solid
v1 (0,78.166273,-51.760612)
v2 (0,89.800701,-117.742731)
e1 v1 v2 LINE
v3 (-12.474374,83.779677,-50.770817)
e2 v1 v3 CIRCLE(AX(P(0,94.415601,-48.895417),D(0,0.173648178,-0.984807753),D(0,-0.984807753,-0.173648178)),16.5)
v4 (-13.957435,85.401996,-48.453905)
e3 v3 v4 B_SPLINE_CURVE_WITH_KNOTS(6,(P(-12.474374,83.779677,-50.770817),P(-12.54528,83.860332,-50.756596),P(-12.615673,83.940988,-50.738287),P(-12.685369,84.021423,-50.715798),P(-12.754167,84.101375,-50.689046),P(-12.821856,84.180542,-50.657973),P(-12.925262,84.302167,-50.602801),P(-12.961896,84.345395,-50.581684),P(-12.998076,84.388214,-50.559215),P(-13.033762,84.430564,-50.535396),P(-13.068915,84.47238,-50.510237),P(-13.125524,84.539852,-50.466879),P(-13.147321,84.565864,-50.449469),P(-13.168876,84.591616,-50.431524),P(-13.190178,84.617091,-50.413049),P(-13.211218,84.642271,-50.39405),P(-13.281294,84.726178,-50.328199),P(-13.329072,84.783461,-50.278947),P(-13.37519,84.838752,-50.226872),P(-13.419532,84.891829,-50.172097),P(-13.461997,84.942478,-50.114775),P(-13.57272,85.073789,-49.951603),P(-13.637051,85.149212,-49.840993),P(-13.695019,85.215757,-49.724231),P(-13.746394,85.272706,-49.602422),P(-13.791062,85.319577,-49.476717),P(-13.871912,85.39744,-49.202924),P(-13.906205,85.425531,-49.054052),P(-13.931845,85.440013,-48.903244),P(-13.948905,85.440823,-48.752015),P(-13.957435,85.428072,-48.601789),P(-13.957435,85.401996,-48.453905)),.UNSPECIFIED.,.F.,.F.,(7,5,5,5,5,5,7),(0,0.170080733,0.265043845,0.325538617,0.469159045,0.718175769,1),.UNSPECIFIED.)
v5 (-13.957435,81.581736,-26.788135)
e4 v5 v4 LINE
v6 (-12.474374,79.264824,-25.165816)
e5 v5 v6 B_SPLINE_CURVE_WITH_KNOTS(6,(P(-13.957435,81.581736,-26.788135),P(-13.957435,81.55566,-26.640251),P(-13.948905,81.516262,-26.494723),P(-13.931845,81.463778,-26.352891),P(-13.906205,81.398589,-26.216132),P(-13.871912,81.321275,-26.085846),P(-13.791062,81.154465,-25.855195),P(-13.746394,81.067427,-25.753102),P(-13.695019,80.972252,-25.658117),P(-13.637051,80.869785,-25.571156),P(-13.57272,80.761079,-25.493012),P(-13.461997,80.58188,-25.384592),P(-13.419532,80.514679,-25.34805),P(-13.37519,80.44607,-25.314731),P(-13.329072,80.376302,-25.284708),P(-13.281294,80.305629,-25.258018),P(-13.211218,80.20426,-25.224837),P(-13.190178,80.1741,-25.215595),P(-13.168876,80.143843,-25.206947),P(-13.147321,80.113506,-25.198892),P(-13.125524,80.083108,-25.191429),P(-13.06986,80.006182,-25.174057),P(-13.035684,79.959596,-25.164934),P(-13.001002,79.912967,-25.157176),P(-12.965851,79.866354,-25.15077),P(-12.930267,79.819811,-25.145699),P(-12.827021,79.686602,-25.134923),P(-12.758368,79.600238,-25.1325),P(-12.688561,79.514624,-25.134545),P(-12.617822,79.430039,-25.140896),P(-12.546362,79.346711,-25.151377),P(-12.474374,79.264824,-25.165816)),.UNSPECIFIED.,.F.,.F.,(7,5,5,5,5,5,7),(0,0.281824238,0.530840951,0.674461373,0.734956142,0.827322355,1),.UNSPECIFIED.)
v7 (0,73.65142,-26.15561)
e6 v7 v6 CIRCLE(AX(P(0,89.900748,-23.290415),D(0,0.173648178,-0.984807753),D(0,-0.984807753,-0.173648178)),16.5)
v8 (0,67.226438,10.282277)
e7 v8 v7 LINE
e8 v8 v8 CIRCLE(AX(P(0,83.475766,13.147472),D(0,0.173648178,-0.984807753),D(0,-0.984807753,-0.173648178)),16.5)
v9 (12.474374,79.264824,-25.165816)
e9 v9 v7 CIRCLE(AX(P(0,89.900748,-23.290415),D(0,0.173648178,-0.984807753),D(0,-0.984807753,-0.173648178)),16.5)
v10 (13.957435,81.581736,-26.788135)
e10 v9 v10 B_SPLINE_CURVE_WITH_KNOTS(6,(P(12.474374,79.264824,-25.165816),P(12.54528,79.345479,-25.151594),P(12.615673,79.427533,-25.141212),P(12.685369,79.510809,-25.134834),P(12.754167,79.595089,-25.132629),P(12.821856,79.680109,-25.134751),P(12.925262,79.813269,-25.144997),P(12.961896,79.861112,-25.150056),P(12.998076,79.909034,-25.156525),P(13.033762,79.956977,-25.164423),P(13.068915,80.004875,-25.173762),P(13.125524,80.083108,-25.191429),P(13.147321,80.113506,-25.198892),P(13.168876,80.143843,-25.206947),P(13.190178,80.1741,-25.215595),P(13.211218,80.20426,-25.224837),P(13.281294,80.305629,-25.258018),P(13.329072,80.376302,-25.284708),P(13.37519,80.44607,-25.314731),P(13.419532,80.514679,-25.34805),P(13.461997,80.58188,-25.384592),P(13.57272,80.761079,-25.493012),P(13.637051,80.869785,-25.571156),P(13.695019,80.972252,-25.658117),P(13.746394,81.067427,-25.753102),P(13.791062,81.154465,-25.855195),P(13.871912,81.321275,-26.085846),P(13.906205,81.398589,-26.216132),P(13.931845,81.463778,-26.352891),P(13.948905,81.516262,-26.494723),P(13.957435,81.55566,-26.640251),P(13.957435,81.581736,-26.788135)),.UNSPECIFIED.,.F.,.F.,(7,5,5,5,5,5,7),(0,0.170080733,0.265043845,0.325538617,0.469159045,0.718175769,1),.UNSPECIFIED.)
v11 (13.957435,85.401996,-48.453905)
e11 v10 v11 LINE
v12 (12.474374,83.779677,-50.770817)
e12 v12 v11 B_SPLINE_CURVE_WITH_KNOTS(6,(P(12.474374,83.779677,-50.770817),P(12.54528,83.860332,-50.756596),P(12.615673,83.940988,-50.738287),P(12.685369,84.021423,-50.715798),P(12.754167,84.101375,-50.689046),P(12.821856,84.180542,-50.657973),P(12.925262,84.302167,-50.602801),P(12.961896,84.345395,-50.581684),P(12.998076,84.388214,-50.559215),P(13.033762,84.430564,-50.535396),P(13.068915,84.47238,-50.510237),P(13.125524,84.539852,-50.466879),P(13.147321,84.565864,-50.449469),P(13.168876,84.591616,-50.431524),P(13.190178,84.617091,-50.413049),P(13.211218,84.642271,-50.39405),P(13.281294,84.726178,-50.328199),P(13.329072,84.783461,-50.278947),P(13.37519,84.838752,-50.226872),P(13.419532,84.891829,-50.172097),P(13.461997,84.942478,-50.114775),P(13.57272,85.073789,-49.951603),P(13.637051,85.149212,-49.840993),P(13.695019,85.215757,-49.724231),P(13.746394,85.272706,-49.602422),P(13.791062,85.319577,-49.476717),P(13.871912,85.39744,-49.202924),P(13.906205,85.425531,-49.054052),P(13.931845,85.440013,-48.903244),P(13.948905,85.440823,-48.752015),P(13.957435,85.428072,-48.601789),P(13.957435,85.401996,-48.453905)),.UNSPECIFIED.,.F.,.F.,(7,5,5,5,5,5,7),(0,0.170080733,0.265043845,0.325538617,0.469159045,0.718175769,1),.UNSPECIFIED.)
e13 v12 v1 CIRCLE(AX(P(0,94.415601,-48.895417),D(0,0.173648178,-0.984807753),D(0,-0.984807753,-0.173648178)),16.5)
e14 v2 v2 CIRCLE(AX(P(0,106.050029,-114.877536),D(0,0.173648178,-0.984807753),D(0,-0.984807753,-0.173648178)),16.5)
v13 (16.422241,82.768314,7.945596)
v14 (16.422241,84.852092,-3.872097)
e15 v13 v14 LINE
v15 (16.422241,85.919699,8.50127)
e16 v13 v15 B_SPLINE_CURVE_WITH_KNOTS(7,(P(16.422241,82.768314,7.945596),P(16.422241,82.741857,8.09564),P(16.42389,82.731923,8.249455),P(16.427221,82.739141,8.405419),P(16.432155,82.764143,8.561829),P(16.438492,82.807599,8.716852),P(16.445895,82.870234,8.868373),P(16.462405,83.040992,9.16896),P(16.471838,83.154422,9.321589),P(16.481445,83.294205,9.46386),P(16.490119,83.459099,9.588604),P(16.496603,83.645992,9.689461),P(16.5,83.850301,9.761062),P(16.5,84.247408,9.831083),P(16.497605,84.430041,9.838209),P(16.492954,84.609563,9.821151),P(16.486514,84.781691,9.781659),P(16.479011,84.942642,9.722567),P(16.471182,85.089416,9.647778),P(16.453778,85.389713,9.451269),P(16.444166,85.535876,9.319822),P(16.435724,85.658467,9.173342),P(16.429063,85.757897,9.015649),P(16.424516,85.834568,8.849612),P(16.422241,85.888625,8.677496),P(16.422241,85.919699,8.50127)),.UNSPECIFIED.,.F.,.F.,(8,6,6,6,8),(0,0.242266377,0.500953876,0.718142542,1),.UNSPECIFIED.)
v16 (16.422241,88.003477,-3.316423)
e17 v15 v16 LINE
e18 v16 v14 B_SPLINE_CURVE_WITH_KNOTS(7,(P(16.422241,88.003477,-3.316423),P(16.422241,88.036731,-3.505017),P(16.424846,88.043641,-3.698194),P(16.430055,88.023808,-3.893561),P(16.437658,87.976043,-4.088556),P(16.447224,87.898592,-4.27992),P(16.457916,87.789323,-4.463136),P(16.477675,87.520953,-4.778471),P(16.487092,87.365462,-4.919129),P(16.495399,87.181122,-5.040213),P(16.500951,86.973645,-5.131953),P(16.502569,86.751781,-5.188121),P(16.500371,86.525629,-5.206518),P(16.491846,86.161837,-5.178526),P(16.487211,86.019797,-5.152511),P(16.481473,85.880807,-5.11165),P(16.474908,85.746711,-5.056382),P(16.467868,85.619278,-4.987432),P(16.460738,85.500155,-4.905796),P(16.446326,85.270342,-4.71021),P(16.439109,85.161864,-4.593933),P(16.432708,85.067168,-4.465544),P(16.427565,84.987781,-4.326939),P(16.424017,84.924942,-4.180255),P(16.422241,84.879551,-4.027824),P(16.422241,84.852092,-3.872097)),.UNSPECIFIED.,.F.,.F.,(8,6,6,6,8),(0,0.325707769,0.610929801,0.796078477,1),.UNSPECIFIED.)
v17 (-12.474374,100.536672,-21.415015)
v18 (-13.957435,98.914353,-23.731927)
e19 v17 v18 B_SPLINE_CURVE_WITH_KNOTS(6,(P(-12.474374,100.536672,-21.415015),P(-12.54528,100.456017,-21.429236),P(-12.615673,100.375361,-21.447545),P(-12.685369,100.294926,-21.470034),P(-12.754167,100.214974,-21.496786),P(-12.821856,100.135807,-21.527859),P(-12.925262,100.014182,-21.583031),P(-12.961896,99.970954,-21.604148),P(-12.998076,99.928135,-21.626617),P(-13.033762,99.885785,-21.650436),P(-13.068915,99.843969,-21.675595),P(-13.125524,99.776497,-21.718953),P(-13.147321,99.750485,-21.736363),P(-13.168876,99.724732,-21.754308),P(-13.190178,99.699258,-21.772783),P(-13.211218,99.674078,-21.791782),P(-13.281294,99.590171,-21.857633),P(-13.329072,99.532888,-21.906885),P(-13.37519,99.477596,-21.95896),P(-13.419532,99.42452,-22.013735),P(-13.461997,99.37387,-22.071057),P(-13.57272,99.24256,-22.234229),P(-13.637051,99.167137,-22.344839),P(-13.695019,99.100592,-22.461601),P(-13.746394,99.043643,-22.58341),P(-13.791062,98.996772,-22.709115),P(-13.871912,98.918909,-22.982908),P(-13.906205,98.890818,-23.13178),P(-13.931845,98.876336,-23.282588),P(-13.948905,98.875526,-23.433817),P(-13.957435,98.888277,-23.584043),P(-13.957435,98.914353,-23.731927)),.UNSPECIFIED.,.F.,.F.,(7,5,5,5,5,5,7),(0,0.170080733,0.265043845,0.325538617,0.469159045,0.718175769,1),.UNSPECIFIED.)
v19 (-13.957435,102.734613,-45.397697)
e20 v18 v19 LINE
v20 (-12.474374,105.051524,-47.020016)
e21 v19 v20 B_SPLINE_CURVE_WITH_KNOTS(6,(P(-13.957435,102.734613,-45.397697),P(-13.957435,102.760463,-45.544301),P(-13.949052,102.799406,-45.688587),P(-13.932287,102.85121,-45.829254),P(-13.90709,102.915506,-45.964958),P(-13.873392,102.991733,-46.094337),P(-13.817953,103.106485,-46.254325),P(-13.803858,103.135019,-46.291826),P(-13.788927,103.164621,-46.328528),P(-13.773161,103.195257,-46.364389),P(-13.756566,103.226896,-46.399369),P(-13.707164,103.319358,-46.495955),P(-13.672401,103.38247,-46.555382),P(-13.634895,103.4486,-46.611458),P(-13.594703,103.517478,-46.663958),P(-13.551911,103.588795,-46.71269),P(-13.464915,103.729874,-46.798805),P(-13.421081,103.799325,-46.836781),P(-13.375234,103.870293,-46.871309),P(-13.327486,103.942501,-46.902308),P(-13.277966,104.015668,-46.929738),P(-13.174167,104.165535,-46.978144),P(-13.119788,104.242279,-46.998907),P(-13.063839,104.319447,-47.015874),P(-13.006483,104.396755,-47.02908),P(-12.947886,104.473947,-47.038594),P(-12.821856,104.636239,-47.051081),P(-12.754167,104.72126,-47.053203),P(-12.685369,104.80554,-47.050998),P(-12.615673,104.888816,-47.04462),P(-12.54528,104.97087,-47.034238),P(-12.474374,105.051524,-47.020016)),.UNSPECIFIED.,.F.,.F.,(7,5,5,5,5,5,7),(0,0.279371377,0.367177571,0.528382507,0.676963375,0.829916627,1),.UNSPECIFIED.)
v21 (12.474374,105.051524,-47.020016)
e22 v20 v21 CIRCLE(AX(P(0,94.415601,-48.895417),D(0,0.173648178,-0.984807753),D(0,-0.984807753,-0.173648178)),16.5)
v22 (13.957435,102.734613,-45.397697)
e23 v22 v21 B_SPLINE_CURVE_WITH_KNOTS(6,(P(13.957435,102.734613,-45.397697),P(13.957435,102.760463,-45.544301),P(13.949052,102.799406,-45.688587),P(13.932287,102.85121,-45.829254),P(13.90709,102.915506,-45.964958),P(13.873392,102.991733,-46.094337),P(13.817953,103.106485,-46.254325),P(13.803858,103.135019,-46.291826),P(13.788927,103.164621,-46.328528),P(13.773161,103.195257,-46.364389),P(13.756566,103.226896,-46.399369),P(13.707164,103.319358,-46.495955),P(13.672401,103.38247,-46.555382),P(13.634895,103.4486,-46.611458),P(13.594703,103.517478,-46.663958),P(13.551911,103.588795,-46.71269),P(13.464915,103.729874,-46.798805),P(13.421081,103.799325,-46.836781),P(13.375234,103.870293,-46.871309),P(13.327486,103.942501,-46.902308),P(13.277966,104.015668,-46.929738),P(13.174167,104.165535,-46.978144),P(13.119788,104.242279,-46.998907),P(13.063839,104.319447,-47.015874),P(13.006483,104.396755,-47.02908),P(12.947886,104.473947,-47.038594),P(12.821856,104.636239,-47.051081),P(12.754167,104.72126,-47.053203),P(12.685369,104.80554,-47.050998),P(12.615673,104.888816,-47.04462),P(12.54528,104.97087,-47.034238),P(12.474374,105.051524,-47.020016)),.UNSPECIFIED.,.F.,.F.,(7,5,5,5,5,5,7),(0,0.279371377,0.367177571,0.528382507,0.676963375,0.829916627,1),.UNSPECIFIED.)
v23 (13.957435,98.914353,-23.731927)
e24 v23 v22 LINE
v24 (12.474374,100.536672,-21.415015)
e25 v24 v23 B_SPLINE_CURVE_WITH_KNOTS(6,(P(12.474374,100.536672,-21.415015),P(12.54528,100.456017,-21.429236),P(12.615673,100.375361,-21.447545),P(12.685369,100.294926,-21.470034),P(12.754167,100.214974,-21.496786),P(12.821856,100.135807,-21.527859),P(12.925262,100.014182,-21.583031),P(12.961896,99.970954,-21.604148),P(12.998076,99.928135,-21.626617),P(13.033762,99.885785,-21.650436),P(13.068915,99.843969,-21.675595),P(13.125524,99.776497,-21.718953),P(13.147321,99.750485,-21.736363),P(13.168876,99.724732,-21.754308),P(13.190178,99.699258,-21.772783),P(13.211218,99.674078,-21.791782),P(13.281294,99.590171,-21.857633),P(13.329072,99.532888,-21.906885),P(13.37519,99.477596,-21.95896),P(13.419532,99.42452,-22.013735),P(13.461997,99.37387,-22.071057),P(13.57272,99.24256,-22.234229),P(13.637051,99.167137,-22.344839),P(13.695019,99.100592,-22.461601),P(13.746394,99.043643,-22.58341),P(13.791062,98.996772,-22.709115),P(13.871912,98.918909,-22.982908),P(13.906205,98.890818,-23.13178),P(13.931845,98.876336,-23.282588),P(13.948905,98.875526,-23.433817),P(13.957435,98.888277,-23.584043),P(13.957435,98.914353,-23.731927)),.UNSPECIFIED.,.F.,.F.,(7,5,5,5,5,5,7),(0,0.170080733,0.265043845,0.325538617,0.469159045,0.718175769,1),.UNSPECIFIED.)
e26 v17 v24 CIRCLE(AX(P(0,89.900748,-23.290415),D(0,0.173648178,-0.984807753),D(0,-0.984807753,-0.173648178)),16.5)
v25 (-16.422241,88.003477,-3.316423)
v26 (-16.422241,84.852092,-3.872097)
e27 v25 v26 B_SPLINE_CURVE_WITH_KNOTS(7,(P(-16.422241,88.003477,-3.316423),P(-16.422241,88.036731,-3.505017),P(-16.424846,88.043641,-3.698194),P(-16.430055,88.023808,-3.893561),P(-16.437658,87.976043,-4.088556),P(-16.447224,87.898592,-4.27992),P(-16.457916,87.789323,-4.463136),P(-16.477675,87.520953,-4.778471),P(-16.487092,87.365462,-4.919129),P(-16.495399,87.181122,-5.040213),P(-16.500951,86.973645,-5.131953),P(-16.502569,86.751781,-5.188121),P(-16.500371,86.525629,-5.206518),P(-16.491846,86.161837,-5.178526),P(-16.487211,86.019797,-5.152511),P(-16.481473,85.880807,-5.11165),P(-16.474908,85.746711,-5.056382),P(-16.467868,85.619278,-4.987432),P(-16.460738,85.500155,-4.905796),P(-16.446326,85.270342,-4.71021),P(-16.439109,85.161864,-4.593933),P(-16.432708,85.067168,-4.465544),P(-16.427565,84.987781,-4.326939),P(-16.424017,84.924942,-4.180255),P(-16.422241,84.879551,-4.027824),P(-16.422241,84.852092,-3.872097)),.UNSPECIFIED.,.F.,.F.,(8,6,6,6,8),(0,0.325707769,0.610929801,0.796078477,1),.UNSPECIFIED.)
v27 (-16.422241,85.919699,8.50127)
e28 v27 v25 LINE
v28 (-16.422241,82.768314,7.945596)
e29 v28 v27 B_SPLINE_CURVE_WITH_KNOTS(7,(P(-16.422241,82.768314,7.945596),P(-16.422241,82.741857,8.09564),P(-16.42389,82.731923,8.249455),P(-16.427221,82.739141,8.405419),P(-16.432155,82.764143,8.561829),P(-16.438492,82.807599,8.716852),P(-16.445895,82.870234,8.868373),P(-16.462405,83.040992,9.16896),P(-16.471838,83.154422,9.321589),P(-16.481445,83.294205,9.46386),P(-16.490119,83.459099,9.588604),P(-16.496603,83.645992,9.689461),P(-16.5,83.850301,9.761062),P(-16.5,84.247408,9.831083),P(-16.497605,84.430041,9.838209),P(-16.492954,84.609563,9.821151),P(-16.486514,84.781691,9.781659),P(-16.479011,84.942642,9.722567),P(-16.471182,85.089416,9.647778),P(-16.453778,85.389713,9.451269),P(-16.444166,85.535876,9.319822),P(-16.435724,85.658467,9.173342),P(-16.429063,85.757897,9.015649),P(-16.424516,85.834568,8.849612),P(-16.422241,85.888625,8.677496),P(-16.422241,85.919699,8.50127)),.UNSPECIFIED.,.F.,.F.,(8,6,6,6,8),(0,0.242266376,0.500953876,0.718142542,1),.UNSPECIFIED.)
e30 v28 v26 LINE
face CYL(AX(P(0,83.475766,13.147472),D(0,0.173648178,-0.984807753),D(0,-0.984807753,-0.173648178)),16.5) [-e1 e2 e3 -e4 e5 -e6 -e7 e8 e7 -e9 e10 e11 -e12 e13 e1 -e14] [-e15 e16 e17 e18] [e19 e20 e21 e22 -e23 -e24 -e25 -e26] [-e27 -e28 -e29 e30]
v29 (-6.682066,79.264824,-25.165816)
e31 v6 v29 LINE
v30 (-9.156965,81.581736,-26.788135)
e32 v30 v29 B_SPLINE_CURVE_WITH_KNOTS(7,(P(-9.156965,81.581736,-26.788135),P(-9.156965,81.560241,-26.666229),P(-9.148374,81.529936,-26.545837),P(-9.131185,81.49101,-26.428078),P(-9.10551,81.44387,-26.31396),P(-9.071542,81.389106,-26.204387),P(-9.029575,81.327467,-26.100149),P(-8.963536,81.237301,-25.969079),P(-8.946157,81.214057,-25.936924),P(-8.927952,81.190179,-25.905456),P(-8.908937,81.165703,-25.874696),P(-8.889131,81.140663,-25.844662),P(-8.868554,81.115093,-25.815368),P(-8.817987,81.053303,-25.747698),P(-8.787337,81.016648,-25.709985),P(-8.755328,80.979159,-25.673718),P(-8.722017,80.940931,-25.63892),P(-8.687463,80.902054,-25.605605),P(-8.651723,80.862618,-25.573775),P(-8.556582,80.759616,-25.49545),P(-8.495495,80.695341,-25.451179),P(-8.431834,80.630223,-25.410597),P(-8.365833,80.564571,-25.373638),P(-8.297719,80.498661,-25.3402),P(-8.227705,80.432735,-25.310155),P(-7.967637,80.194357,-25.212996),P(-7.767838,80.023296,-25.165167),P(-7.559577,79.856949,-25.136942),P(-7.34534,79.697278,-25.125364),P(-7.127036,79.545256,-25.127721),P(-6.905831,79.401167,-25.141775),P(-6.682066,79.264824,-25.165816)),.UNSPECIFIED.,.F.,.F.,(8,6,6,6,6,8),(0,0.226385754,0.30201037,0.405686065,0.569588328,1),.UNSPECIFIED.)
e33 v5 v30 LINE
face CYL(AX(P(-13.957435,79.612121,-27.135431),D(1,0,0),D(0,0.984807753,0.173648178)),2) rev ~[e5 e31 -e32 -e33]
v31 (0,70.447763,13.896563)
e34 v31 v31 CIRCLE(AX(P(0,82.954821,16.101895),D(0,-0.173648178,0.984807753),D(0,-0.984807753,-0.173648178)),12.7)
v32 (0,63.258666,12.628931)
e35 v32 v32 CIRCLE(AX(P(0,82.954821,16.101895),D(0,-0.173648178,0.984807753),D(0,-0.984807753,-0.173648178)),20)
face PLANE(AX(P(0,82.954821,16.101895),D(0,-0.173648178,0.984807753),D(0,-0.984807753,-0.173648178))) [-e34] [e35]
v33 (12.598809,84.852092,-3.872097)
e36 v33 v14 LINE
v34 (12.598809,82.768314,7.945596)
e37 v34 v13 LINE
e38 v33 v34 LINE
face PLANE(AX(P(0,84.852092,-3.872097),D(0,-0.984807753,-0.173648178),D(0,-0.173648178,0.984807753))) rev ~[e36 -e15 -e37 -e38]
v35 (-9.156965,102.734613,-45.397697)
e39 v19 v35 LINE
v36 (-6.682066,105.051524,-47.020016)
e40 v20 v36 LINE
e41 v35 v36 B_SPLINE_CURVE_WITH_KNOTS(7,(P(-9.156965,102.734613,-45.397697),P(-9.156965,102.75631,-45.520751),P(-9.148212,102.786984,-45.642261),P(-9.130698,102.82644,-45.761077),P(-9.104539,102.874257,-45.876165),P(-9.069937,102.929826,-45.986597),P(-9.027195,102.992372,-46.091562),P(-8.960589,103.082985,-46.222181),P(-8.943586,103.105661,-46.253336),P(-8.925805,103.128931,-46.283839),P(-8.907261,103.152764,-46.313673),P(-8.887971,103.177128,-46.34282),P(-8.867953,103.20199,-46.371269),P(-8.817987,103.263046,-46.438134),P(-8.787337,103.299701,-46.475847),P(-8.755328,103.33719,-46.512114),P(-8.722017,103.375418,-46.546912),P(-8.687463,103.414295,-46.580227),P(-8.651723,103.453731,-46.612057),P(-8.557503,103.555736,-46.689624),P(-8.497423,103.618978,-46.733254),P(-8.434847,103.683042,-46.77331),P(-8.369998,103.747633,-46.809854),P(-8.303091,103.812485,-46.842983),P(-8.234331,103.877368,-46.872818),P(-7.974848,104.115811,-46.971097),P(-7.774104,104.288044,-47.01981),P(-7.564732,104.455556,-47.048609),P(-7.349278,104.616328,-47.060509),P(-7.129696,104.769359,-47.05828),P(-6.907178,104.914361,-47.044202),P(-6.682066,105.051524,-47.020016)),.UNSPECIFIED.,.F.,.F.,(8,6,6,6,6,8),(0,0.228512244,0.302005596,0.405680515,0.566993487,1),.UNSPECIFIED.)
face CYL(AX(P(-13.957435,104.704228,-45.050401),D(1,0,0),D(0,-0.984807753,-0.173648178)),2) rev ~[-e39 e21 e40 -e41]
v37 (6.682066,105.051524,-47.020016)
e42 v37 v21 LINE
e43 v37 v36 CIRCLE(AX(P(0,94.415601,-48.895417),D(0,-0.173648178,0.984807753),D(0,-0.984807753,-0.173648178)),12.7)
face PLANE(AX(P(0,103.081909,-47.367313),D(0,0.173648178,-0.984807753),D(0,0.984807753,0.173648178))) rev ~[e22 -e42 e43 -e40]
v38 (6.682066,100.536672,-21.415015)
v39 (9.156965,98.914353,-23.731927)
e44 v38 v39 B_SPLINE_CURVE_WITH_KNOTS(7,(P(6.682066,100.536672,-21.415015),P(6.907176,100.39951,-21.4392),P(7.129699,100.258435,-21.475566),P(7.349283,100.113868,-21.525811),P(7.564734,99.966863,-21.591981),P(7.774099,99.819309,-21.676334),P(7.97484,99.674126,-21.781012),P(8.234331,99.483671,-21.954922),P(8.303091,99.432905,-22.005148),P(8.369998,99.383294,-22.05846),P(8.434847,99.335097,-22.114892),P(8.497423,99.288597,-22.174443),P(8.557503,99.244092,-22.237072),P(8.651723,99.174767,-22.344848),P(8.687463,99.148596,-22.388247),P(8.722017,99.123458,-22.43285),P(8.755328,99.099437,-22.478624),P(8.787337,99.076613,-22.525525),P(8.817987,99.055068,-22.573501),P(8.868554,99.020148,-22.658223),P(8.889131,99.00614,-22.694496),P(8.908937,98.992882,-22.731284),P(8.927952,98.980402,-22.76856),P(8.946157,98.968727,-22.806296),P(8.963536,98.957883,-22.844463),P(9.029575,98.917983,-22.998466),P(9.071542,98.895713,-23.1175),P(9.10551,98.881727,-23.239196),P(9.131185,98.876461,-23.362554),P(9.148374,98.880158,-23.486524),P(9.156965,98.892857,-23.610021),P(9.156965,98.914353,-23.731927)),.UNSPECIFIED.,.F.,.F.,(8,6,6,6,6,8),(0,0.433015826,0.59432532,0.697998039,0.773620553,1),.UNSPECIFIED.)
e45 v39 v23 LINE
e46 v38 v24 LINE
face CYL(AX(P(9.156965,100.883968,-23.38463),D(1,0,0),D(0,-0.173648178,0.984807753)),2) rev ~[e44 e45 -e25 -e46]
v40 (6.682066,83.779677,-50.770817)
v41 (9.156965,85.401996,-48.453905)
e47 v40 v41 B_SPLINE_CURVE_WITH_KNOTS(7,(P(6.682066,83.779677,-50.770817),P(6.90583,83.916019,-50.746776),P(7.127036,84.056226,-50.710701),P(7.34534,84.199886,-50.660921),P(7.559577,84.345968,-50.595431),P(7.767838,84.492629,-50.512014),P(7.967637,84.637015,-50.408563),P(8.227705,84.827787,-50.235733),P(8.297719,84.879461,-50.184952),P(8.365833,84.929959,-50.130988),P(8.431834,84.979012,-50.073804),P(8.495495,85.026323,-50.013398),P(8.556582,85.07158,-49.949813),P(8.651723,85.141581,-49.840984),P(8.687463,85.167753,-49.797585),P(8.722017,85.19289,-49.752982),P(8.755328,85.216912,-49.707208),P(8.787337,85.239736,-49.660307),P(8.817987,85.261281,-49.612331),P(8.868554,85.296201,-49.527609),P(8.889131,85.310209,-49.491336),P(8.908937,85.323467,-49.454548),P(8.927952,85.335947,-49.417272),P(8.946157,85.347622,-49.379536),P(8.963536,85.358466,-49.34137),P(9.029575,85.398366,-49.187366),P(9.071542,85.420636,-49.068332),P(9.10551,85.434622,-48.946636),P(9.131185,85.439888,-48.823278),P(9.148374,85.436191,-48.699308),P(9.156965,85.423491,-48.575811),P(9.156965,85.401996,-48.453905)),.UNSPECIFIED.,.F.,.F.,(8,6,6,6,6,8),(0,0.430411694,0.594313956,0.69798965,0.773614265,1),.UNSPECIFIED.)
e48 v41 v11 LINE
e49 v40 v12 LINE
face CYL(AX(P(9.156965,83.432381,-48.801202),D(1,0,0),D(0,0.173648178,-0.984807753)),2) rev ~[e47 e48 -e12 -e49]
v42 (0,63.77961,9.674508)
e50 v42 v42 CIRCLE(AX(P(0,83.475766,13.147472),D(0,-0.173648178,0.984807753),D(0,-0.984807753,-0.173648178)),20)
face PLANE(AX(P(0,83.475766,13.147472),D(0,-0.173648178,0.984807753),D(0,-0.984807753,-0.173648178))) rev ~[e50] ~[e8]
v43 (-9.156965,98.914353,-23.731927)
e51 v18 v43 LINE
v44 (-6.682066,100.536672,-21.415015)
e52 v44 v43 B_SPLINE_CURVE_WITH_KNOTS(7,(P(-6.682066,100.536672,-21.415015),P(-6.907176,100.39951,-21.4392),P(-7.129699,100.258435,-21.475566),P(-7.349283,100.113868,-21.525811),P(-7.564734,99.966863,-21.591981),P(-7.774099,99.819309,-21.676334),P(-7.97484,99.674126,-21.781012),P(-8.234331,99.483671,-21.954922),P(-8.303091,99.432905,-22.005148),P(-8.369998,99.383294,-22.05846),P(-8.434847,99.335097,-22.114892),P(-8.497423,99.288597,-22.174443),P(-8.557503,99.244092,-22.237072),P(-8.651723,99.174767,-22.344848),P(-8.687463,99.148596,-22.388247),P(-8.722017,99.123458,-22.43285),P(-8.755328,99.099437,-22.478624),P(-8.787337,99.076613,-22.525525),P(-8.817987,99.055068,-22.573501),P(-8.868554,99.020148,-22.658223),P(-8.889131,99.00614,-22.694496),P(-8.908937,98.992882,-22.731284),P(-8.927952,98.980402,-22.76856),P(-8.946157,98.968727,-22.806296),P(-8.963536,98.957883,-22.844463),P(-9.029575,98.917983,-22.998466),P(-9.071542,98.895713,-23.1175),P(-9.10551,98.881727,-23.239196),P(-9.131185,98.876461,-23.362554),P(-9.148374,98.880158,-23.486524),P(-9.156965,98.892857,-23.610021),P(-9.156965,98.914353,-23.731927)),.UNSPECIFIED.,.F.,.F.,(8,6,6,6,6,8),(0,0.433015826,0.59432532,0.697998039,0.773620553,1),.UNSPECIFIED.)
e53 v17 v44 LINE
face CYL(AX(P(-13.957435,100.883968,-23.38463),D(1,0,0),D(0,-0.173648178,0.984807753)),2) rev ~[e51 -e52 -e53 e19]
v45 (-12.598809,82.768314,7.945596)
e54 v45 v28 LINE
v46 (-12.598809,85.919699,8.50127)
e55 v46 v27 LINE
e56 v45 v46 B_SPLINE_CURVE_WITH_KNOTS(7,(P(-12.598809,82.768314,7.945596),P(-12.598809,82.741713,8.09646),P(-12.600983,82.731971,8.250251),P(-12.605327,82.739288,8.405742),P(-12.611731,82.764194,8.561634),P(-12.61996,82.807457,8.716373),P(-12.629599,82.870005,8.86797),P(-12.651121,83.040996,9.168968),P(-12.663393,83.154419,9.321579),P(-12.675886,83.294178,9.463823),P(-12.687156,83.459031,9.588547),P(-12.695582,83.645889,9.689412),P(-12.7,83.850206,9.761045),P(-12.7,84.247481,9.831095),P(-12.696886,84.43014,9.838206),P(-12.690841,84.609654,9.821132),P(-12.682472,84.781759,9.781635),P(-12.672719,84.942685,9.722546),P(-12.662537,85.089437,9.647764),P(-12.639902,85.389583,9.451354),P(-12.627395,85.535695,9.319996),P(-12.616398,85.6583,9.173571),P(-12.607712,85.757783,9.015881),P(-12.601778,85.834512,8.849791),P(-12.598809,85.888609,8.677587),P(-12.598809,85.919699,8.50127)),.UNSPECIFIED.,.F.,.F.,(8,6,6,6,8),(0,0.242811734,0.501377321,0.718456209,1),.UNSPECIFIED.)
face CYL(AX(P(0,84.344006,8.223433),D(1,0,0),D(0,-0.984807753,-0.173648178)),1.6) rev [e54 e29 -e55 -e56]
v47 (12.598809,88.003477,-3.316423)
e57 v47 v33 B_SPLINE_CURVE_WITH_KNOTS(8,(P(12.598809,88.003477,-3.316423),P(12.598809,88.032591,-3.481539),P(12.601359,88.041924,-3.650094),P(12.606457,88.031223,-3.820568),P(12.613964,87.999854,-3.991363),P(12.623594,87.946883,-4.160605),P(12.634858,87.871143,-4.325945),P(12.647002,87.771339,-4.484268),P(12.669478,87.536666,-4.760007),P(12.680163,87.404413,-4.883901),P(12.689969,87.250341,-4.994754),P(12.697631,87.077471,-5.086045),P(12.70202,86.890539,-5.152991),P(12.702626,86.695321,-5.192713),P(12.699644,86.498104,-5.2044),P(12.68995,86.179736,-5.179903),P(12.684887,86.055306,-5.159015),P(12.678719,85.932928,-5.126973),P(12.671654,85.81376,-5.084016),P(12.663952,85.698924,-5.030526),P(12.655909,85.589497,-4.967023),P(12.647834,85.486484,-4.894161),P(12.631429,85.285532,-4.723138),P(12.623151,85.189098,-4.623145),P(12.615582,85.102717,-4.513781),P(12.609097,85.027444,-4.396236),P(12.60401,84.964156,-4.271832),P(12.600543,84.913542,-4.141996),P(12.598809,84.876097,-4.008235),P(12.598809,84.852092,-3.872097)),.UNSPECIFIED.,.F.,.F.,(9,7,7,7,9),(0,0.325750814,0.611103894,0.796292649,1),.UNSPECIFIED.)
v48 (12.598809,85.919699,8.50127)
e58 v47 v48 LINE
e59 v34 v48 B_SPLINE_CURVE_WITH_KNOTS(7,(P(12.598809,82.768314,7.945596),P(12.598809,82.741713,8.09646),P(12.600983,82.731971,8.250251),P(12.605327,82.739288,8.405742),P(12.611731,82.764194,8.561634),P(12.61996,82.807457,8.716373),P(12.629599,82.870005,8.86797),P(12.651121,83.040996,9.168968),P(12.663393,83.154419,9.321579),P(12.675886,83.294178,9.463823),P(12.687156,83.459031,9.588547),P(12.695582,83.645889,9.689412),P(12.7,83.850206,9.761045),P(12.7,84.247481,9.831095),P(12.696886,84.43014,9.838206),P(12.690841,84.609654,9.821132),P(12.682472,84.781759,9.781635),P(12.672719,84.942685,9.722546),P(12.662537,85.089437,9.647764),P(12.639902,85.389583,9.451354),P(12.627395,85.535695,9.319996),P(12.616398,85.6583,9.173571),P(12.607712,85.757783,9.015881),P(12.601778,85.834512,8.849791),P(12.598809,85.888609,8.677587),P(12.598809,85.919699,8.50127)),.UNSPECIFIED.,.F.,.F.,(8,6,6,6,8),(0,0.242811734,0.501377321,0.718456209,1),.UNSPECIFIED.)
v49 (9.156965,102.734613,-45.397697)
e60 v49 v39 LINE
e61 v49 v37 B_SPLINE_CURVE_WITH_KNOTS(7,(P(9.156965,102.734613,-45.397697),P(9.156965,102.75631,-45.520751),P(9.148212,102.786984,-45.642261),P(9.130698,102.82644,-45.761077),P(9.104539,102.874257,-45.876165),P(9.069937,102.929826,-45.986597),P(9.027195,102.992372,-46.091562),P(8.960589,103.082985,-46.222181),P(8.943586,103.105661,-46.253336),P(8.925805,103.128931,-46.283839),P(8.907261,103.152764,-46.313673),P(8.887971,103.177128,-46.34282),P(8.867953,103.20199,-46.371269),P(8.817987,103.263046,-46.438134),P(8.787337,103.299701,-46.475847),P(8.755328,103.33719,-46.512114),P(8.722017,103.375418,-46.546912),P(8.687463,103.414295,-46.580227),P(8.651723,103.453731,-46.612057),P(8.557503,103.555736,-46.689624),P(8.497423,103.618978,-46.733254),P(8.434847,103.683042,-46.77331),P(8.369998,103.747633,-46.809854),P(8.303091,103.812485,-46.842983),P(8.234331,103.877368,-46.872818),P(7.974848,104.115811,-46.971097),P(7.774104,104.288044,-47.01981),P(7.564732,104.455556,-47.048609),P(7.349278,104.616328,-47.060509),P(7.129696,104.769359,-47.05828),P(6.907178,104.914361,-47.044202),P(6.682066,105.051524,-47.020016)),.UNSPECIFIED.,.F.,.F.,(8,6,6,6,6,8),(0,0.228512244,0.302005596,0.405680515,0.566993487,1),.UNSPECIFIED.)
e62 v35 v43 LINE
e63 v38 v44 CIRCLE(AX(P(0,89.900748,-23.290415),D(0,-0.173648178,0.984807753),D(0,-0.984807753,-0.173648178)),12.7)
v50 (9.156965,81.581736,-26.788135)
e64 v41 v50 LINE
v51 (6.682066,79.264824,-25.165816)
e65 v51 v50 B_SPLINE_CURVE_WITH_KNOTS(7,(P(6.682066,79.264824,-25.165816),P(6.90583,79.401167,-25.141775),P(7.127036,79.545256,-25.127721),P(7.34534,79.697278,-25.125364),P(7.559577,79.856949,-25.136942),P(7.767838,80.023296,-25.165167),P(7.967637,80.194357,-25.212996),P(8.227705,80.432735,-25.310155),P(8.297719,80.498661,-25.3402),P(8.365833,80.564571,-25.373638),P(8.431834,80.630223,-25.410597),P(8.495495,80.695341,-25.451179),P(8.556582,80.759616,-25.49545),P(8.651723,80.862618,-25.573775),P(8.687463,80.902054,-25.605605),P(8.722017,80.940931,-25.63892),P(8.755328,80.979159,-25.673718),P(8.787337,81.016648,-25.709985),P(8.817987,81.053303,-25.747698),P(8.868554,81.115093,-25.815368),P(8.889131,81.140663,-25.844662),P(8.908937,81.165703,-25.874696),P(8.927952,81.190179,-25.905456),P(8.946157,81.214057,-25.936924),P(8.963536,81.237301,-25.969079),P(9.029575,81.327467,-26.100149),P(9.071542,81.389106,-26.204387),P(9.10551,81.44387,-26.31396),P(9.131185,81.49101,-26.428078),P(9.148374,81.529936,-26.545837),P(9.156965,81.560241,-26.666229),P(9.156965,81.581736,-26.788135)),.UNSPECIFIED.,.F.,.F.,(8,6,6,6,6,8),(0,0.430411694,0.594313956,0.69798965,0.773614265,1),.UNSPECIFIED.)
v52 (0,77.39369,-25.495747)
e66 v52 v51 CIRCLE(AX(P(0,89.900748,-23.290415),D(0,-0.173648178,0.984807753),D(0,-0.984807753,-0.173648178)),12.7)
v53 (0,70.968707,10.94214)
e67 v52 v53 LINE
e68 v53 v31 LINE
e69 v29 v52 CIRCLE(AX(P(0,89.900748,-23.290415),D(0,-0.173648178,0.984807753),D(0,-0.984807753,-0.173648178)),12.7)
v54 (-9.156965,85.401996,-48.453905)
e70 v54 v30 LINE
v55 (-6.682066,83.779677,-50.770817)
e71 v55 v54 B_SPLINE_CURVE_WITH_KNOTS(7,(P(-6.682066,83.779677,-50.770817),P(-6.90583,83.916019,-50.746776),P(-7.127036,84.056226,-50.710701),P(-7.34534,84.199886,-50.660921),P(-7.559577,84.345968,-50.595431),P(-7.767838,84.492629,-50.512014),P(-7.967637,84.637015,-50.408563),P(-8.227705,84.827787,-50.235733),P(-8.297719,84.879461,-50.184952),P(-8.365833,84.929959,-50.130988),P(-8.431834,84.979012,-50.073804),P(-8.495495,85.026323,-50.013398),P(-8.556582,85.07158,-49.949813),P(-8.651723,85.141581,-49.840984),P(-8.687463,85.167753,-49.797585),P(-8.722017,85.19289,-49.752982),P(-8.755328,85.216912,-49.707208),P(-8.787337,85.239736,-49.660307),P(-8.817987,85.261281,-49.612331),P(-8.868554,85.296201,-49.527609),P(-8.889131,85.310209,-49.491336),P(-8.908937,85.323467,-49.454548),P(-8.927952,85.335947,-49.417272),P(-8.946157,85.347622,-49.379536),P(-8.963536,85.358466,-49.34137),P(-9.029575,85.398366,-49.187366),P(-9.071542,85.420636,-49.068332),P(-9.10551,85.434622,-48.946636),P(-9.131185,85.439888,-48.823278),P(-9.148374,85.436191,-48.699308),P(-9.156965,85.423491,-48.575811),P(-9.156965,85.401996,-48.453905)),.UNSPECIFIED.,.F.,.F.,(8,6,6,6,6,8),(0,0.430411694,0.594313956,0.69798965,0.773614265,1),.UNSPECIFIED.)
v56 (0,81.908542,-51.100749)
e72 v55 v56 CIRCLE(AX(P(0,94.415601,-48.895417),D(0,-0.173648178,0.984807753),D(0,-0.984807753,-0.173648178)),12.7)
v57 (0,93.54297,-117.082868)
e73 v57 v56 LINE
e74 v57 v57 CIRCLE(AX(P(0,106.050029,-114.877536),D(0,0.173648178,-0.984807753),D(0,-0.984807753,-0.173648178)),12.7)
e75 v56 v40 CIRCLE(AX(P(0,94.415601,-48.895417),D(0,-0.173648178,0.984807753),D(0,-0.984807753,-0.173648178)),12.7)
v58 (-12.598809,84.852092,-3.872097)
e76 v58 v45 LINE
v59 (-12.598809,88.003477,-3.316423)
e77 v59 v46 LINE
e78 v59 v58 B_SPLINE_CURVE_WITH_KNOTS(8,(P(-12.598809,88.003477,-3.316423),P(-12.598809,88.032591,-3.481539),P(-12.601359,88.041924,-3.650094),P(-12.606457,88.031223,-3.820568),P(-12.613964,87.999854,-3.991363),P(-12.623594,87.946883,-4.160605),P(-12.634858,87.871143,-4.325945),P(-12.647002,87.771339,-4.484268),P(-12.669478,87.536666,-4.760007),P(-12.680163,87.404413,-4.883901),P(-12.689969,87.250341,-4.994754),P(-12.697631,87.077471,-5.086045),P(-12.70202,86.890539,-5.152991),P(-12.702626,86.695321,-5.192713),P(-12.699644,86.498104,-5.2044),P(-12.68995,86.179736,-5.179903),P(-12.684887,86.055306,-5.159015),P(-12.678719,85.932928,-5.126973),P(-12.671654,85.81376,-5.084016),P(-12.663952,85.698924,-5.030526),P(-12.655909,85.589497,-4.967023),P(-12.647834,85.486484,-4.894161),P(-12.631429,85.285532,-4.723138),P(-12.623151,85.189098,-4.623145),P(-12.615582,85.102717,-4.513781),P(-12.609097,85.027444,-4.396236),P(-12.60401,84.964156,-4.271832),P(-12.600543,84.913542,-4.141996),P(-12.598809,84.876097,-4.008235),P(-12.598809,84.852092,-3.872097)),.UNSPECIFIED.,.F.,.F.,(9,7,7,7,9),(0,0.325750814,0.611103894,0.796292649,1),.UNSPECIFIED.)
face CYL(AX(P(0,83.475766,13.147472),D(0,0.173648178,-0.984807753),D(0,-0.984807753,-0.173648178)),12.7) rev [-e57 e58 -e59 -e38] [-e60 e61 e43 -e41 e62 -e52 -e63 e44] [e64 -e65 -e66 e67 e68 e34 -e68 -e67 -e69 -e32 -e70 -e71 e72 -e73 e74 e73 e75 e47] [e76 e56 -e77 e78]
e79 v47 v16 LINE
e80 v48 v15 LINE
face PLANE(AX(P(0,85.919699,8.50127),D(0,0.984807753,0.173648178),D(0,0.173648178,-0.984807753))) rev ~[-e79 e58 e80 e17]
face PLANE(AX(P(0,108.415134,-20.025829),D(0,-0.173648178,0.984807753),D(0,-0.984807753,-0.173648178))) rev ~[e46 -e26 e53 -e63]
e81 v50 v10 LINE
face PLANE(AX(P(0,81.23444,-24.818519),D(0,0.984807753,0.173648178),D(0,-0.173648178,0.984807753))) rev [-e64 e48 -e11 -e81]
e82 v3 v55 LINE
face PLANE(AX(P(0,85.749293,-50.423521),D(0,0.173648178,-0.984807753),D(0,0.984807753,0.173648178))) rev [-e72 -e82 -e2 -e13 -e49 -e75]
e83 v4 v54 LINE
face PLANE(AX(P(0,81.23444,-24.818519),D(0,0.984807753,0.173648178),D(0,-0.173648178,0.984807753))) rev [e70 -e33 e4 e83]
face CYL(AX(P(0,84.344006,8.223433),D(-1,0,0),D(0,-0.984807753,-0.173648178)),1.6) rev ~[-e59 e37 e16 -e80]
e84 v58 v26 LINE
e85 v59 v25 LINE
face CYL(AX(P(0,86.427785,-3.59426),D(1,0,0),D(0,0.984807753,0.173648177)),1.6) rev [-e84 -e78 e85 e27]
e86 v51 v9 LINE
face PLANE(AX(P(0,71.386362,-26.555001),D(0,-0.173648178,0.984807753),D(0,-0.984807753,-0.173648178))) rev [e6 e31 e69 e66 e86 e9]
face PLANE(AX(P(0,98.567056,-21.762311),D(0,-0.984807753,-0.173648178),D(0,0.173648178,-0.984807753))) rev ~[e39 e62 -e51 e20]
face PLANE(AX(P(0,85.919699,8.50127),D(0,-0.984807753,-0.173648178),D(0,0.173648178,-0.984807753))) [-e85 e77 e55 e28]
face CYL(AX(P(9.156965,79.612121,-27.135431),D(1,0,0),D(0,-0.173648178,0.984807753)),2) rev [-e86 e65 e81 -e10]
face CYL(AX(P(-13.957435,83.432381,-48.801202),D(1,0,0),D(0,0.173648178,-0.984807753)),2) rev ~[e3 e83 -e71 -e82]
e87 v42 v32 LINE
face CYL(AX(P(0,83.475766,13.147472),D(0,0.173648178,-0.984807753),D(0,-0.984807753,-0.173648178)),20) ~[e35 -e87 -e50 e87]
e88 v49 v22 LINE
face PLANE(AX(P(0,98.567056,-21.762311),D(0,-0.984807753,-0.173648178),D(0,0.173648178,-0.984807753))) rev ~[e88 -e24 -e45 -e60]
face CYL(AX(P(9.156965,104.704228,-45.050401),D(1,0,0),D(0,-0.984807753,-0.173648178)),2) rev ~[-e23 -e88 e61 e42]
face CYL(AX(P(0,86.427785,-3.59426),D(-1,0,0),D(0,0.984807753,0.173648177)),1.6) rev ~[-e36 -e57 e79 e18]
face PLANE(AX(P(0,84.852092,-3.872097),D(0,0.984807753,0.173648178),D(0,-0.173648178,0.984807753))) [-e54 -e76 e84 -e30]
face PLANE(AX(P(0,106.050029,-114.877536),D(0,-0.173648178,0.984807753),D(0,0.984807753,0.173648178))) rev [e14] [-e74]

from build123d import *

# Parameters (mm, degrees)
BOSS_EXTRUDE1_DEPTH     = 25
FILLET1_R               = 2
CUT_EXTRUDE1_DEPTH      = 171.565921027
CUT_EXTRUDE1_DEPTH_BACK = 171.565921027
SKETCH4_R               = 20
SKETCH4_R_2             = 16.5
SKETCH4_R_3             = 12.7
BOSS_EXTRUDE2_DEPTH     = 3


with BuildPart() as part:
    # Sketch1 → Revolve1 (revolve)
    with BuildSketch(Plane(origin=(0, 0, 0), x_dir=(0, 0, -1), z_dir=(1, 0, 0)), mode=Mode.PRIVATE) as revolve1_sk:
        Polygon((112.672204387, 118.557087119), (-15.352803504, 95.982824023), (-16.01266658, 99.725093484), (112.012341312, 122.299356581), align=None)
    revolve(revolve1_sk.sketch.rotate(Axis((0, 83.475765559, 13.147471648), (0, 0.17364817766692353, -0.9848077530122092)), 180), axis=Axis((0, 83.475765559, 13.147471648), (0, 0.17364817766692353, -0.9848077530122092)))


with BuildPart() as body_2:
    # Sketch2 → Boss-Extrude1 (new, symmetric)
    with BuildSketch(Plane(origin=(0, 0, 0), x_dir=(0, 0, -1), z_dir=(1, 0, 0))):
        Polygon((20.025829473, 108.41513389), (21.76231125, 98.56705636), (47.367312828, 103.081908979), (45.630831052, 112.929986509), align=None)
    extrude(amount=BOSS_EXTRUDE1_DEPTH, both=True)


with BuildPart() as body_3:
    # Mirror1: mirrored copy
    add(body_2.part.mirror(Plane(origin=(0, 83.207013304, 14.67164143), x_dir=(0, -0.17364817766692353, 0.9848077530122092), z_dir=(0, -0.9848077530122092, -0.17364817766692353))))


with BuildPart() as part_1:
    add(part.part)

    # Combine2: cut body 2, body 3
    add(body_2.part, mode=Mode.SUBTRACT)
    add(body_3.part, mode=Mode.SUBTRACT)

    # Fillet1
    fillet1_edges = [part_1.edges().sort_by_distance(p)[0] for p in [
        (-11.557199929, 98.56705636, -21.76231125),
        (11.557199929, 98.56705636, -21.76231125),
        (-11.557199929, 103.081908979, -47.367312828),
        (11.557199929, 103.081908979, -47.367312828),
        (-11.557199929, 81.234439907, -24.818519177),
        (11.557199929, 81.234439907, -24.818519177),
        (11.557199929, 85.749292526, -50.423520755),
        (-11.557199929, 85.749292526, -50.423520755),
    ]]
    fillet(fillet1_edges, radius=FILLET1_R)

    # Sketch3 → Cut-Extrude1 (cut, two sides)
    with BuildSketch(Plane(origin=(0, 0, 0), x_dir=(0, 0, -1), z_dir=(1, 0, 0))) as cut_extrude1_sk:
        with BuildLine():
            Line((-8.501269967, 85.919698853), (3.316423069, 88.003476985))
            ThreePointArc((3.316423069, 88.003476985), (5.169952558, 86.705621664), (3.872097237, 84.852092175))
            Line((3.872097237, 84.852092175), (-7.945595799, 82.768314043))
            ThreePointArc((-7.945595799, 82.768314043), (-9.799125288, 84.066169363), (-8.501269967, 85.919698853))
        make_face()
    extrude(amount=CUT_EXTRUDE1_DEPTH, mode=Mode.SUBTRACT)
    extrude(cut_extrude1_sk.sketch, amount=-CUT_EXTRUDE1_DEPTH_BACK, mode=Mode.SUBTRACT)

    # Sketch4 → Boss-Extrude2 (add)
    with BuildSketch(Plane(origin=(0, 0.268752256, -1.524169782), x_dir=(1, 0, 0), z_dir=(0, -0.17364817766692353, 0.9848077530122092))):
        with Locations(Location((0, 84.490615604, 0), (0, 0, 270))):
            Circle(SKETCH4_R)
        with Locations(Location((0, 84.490615604, 0), (0, 0, 270))):
            Circle(SKETCH4_R_2, mode=Mode.SUBTRACT)
        with Locations(Location((0, 84.490615604, 0), (0, 0, 270))):
            Circle(SKETCH4_R_2)
        with Locations(Location((0, 84.490615604, 0), (0, 0, 270))):
            Circle(SKETCH4_R_3, mode=Mode.SUBTRACT)
    extrude(amount=BOSS_EXTRUDE2_DEPTH)


solid = part_1.part
